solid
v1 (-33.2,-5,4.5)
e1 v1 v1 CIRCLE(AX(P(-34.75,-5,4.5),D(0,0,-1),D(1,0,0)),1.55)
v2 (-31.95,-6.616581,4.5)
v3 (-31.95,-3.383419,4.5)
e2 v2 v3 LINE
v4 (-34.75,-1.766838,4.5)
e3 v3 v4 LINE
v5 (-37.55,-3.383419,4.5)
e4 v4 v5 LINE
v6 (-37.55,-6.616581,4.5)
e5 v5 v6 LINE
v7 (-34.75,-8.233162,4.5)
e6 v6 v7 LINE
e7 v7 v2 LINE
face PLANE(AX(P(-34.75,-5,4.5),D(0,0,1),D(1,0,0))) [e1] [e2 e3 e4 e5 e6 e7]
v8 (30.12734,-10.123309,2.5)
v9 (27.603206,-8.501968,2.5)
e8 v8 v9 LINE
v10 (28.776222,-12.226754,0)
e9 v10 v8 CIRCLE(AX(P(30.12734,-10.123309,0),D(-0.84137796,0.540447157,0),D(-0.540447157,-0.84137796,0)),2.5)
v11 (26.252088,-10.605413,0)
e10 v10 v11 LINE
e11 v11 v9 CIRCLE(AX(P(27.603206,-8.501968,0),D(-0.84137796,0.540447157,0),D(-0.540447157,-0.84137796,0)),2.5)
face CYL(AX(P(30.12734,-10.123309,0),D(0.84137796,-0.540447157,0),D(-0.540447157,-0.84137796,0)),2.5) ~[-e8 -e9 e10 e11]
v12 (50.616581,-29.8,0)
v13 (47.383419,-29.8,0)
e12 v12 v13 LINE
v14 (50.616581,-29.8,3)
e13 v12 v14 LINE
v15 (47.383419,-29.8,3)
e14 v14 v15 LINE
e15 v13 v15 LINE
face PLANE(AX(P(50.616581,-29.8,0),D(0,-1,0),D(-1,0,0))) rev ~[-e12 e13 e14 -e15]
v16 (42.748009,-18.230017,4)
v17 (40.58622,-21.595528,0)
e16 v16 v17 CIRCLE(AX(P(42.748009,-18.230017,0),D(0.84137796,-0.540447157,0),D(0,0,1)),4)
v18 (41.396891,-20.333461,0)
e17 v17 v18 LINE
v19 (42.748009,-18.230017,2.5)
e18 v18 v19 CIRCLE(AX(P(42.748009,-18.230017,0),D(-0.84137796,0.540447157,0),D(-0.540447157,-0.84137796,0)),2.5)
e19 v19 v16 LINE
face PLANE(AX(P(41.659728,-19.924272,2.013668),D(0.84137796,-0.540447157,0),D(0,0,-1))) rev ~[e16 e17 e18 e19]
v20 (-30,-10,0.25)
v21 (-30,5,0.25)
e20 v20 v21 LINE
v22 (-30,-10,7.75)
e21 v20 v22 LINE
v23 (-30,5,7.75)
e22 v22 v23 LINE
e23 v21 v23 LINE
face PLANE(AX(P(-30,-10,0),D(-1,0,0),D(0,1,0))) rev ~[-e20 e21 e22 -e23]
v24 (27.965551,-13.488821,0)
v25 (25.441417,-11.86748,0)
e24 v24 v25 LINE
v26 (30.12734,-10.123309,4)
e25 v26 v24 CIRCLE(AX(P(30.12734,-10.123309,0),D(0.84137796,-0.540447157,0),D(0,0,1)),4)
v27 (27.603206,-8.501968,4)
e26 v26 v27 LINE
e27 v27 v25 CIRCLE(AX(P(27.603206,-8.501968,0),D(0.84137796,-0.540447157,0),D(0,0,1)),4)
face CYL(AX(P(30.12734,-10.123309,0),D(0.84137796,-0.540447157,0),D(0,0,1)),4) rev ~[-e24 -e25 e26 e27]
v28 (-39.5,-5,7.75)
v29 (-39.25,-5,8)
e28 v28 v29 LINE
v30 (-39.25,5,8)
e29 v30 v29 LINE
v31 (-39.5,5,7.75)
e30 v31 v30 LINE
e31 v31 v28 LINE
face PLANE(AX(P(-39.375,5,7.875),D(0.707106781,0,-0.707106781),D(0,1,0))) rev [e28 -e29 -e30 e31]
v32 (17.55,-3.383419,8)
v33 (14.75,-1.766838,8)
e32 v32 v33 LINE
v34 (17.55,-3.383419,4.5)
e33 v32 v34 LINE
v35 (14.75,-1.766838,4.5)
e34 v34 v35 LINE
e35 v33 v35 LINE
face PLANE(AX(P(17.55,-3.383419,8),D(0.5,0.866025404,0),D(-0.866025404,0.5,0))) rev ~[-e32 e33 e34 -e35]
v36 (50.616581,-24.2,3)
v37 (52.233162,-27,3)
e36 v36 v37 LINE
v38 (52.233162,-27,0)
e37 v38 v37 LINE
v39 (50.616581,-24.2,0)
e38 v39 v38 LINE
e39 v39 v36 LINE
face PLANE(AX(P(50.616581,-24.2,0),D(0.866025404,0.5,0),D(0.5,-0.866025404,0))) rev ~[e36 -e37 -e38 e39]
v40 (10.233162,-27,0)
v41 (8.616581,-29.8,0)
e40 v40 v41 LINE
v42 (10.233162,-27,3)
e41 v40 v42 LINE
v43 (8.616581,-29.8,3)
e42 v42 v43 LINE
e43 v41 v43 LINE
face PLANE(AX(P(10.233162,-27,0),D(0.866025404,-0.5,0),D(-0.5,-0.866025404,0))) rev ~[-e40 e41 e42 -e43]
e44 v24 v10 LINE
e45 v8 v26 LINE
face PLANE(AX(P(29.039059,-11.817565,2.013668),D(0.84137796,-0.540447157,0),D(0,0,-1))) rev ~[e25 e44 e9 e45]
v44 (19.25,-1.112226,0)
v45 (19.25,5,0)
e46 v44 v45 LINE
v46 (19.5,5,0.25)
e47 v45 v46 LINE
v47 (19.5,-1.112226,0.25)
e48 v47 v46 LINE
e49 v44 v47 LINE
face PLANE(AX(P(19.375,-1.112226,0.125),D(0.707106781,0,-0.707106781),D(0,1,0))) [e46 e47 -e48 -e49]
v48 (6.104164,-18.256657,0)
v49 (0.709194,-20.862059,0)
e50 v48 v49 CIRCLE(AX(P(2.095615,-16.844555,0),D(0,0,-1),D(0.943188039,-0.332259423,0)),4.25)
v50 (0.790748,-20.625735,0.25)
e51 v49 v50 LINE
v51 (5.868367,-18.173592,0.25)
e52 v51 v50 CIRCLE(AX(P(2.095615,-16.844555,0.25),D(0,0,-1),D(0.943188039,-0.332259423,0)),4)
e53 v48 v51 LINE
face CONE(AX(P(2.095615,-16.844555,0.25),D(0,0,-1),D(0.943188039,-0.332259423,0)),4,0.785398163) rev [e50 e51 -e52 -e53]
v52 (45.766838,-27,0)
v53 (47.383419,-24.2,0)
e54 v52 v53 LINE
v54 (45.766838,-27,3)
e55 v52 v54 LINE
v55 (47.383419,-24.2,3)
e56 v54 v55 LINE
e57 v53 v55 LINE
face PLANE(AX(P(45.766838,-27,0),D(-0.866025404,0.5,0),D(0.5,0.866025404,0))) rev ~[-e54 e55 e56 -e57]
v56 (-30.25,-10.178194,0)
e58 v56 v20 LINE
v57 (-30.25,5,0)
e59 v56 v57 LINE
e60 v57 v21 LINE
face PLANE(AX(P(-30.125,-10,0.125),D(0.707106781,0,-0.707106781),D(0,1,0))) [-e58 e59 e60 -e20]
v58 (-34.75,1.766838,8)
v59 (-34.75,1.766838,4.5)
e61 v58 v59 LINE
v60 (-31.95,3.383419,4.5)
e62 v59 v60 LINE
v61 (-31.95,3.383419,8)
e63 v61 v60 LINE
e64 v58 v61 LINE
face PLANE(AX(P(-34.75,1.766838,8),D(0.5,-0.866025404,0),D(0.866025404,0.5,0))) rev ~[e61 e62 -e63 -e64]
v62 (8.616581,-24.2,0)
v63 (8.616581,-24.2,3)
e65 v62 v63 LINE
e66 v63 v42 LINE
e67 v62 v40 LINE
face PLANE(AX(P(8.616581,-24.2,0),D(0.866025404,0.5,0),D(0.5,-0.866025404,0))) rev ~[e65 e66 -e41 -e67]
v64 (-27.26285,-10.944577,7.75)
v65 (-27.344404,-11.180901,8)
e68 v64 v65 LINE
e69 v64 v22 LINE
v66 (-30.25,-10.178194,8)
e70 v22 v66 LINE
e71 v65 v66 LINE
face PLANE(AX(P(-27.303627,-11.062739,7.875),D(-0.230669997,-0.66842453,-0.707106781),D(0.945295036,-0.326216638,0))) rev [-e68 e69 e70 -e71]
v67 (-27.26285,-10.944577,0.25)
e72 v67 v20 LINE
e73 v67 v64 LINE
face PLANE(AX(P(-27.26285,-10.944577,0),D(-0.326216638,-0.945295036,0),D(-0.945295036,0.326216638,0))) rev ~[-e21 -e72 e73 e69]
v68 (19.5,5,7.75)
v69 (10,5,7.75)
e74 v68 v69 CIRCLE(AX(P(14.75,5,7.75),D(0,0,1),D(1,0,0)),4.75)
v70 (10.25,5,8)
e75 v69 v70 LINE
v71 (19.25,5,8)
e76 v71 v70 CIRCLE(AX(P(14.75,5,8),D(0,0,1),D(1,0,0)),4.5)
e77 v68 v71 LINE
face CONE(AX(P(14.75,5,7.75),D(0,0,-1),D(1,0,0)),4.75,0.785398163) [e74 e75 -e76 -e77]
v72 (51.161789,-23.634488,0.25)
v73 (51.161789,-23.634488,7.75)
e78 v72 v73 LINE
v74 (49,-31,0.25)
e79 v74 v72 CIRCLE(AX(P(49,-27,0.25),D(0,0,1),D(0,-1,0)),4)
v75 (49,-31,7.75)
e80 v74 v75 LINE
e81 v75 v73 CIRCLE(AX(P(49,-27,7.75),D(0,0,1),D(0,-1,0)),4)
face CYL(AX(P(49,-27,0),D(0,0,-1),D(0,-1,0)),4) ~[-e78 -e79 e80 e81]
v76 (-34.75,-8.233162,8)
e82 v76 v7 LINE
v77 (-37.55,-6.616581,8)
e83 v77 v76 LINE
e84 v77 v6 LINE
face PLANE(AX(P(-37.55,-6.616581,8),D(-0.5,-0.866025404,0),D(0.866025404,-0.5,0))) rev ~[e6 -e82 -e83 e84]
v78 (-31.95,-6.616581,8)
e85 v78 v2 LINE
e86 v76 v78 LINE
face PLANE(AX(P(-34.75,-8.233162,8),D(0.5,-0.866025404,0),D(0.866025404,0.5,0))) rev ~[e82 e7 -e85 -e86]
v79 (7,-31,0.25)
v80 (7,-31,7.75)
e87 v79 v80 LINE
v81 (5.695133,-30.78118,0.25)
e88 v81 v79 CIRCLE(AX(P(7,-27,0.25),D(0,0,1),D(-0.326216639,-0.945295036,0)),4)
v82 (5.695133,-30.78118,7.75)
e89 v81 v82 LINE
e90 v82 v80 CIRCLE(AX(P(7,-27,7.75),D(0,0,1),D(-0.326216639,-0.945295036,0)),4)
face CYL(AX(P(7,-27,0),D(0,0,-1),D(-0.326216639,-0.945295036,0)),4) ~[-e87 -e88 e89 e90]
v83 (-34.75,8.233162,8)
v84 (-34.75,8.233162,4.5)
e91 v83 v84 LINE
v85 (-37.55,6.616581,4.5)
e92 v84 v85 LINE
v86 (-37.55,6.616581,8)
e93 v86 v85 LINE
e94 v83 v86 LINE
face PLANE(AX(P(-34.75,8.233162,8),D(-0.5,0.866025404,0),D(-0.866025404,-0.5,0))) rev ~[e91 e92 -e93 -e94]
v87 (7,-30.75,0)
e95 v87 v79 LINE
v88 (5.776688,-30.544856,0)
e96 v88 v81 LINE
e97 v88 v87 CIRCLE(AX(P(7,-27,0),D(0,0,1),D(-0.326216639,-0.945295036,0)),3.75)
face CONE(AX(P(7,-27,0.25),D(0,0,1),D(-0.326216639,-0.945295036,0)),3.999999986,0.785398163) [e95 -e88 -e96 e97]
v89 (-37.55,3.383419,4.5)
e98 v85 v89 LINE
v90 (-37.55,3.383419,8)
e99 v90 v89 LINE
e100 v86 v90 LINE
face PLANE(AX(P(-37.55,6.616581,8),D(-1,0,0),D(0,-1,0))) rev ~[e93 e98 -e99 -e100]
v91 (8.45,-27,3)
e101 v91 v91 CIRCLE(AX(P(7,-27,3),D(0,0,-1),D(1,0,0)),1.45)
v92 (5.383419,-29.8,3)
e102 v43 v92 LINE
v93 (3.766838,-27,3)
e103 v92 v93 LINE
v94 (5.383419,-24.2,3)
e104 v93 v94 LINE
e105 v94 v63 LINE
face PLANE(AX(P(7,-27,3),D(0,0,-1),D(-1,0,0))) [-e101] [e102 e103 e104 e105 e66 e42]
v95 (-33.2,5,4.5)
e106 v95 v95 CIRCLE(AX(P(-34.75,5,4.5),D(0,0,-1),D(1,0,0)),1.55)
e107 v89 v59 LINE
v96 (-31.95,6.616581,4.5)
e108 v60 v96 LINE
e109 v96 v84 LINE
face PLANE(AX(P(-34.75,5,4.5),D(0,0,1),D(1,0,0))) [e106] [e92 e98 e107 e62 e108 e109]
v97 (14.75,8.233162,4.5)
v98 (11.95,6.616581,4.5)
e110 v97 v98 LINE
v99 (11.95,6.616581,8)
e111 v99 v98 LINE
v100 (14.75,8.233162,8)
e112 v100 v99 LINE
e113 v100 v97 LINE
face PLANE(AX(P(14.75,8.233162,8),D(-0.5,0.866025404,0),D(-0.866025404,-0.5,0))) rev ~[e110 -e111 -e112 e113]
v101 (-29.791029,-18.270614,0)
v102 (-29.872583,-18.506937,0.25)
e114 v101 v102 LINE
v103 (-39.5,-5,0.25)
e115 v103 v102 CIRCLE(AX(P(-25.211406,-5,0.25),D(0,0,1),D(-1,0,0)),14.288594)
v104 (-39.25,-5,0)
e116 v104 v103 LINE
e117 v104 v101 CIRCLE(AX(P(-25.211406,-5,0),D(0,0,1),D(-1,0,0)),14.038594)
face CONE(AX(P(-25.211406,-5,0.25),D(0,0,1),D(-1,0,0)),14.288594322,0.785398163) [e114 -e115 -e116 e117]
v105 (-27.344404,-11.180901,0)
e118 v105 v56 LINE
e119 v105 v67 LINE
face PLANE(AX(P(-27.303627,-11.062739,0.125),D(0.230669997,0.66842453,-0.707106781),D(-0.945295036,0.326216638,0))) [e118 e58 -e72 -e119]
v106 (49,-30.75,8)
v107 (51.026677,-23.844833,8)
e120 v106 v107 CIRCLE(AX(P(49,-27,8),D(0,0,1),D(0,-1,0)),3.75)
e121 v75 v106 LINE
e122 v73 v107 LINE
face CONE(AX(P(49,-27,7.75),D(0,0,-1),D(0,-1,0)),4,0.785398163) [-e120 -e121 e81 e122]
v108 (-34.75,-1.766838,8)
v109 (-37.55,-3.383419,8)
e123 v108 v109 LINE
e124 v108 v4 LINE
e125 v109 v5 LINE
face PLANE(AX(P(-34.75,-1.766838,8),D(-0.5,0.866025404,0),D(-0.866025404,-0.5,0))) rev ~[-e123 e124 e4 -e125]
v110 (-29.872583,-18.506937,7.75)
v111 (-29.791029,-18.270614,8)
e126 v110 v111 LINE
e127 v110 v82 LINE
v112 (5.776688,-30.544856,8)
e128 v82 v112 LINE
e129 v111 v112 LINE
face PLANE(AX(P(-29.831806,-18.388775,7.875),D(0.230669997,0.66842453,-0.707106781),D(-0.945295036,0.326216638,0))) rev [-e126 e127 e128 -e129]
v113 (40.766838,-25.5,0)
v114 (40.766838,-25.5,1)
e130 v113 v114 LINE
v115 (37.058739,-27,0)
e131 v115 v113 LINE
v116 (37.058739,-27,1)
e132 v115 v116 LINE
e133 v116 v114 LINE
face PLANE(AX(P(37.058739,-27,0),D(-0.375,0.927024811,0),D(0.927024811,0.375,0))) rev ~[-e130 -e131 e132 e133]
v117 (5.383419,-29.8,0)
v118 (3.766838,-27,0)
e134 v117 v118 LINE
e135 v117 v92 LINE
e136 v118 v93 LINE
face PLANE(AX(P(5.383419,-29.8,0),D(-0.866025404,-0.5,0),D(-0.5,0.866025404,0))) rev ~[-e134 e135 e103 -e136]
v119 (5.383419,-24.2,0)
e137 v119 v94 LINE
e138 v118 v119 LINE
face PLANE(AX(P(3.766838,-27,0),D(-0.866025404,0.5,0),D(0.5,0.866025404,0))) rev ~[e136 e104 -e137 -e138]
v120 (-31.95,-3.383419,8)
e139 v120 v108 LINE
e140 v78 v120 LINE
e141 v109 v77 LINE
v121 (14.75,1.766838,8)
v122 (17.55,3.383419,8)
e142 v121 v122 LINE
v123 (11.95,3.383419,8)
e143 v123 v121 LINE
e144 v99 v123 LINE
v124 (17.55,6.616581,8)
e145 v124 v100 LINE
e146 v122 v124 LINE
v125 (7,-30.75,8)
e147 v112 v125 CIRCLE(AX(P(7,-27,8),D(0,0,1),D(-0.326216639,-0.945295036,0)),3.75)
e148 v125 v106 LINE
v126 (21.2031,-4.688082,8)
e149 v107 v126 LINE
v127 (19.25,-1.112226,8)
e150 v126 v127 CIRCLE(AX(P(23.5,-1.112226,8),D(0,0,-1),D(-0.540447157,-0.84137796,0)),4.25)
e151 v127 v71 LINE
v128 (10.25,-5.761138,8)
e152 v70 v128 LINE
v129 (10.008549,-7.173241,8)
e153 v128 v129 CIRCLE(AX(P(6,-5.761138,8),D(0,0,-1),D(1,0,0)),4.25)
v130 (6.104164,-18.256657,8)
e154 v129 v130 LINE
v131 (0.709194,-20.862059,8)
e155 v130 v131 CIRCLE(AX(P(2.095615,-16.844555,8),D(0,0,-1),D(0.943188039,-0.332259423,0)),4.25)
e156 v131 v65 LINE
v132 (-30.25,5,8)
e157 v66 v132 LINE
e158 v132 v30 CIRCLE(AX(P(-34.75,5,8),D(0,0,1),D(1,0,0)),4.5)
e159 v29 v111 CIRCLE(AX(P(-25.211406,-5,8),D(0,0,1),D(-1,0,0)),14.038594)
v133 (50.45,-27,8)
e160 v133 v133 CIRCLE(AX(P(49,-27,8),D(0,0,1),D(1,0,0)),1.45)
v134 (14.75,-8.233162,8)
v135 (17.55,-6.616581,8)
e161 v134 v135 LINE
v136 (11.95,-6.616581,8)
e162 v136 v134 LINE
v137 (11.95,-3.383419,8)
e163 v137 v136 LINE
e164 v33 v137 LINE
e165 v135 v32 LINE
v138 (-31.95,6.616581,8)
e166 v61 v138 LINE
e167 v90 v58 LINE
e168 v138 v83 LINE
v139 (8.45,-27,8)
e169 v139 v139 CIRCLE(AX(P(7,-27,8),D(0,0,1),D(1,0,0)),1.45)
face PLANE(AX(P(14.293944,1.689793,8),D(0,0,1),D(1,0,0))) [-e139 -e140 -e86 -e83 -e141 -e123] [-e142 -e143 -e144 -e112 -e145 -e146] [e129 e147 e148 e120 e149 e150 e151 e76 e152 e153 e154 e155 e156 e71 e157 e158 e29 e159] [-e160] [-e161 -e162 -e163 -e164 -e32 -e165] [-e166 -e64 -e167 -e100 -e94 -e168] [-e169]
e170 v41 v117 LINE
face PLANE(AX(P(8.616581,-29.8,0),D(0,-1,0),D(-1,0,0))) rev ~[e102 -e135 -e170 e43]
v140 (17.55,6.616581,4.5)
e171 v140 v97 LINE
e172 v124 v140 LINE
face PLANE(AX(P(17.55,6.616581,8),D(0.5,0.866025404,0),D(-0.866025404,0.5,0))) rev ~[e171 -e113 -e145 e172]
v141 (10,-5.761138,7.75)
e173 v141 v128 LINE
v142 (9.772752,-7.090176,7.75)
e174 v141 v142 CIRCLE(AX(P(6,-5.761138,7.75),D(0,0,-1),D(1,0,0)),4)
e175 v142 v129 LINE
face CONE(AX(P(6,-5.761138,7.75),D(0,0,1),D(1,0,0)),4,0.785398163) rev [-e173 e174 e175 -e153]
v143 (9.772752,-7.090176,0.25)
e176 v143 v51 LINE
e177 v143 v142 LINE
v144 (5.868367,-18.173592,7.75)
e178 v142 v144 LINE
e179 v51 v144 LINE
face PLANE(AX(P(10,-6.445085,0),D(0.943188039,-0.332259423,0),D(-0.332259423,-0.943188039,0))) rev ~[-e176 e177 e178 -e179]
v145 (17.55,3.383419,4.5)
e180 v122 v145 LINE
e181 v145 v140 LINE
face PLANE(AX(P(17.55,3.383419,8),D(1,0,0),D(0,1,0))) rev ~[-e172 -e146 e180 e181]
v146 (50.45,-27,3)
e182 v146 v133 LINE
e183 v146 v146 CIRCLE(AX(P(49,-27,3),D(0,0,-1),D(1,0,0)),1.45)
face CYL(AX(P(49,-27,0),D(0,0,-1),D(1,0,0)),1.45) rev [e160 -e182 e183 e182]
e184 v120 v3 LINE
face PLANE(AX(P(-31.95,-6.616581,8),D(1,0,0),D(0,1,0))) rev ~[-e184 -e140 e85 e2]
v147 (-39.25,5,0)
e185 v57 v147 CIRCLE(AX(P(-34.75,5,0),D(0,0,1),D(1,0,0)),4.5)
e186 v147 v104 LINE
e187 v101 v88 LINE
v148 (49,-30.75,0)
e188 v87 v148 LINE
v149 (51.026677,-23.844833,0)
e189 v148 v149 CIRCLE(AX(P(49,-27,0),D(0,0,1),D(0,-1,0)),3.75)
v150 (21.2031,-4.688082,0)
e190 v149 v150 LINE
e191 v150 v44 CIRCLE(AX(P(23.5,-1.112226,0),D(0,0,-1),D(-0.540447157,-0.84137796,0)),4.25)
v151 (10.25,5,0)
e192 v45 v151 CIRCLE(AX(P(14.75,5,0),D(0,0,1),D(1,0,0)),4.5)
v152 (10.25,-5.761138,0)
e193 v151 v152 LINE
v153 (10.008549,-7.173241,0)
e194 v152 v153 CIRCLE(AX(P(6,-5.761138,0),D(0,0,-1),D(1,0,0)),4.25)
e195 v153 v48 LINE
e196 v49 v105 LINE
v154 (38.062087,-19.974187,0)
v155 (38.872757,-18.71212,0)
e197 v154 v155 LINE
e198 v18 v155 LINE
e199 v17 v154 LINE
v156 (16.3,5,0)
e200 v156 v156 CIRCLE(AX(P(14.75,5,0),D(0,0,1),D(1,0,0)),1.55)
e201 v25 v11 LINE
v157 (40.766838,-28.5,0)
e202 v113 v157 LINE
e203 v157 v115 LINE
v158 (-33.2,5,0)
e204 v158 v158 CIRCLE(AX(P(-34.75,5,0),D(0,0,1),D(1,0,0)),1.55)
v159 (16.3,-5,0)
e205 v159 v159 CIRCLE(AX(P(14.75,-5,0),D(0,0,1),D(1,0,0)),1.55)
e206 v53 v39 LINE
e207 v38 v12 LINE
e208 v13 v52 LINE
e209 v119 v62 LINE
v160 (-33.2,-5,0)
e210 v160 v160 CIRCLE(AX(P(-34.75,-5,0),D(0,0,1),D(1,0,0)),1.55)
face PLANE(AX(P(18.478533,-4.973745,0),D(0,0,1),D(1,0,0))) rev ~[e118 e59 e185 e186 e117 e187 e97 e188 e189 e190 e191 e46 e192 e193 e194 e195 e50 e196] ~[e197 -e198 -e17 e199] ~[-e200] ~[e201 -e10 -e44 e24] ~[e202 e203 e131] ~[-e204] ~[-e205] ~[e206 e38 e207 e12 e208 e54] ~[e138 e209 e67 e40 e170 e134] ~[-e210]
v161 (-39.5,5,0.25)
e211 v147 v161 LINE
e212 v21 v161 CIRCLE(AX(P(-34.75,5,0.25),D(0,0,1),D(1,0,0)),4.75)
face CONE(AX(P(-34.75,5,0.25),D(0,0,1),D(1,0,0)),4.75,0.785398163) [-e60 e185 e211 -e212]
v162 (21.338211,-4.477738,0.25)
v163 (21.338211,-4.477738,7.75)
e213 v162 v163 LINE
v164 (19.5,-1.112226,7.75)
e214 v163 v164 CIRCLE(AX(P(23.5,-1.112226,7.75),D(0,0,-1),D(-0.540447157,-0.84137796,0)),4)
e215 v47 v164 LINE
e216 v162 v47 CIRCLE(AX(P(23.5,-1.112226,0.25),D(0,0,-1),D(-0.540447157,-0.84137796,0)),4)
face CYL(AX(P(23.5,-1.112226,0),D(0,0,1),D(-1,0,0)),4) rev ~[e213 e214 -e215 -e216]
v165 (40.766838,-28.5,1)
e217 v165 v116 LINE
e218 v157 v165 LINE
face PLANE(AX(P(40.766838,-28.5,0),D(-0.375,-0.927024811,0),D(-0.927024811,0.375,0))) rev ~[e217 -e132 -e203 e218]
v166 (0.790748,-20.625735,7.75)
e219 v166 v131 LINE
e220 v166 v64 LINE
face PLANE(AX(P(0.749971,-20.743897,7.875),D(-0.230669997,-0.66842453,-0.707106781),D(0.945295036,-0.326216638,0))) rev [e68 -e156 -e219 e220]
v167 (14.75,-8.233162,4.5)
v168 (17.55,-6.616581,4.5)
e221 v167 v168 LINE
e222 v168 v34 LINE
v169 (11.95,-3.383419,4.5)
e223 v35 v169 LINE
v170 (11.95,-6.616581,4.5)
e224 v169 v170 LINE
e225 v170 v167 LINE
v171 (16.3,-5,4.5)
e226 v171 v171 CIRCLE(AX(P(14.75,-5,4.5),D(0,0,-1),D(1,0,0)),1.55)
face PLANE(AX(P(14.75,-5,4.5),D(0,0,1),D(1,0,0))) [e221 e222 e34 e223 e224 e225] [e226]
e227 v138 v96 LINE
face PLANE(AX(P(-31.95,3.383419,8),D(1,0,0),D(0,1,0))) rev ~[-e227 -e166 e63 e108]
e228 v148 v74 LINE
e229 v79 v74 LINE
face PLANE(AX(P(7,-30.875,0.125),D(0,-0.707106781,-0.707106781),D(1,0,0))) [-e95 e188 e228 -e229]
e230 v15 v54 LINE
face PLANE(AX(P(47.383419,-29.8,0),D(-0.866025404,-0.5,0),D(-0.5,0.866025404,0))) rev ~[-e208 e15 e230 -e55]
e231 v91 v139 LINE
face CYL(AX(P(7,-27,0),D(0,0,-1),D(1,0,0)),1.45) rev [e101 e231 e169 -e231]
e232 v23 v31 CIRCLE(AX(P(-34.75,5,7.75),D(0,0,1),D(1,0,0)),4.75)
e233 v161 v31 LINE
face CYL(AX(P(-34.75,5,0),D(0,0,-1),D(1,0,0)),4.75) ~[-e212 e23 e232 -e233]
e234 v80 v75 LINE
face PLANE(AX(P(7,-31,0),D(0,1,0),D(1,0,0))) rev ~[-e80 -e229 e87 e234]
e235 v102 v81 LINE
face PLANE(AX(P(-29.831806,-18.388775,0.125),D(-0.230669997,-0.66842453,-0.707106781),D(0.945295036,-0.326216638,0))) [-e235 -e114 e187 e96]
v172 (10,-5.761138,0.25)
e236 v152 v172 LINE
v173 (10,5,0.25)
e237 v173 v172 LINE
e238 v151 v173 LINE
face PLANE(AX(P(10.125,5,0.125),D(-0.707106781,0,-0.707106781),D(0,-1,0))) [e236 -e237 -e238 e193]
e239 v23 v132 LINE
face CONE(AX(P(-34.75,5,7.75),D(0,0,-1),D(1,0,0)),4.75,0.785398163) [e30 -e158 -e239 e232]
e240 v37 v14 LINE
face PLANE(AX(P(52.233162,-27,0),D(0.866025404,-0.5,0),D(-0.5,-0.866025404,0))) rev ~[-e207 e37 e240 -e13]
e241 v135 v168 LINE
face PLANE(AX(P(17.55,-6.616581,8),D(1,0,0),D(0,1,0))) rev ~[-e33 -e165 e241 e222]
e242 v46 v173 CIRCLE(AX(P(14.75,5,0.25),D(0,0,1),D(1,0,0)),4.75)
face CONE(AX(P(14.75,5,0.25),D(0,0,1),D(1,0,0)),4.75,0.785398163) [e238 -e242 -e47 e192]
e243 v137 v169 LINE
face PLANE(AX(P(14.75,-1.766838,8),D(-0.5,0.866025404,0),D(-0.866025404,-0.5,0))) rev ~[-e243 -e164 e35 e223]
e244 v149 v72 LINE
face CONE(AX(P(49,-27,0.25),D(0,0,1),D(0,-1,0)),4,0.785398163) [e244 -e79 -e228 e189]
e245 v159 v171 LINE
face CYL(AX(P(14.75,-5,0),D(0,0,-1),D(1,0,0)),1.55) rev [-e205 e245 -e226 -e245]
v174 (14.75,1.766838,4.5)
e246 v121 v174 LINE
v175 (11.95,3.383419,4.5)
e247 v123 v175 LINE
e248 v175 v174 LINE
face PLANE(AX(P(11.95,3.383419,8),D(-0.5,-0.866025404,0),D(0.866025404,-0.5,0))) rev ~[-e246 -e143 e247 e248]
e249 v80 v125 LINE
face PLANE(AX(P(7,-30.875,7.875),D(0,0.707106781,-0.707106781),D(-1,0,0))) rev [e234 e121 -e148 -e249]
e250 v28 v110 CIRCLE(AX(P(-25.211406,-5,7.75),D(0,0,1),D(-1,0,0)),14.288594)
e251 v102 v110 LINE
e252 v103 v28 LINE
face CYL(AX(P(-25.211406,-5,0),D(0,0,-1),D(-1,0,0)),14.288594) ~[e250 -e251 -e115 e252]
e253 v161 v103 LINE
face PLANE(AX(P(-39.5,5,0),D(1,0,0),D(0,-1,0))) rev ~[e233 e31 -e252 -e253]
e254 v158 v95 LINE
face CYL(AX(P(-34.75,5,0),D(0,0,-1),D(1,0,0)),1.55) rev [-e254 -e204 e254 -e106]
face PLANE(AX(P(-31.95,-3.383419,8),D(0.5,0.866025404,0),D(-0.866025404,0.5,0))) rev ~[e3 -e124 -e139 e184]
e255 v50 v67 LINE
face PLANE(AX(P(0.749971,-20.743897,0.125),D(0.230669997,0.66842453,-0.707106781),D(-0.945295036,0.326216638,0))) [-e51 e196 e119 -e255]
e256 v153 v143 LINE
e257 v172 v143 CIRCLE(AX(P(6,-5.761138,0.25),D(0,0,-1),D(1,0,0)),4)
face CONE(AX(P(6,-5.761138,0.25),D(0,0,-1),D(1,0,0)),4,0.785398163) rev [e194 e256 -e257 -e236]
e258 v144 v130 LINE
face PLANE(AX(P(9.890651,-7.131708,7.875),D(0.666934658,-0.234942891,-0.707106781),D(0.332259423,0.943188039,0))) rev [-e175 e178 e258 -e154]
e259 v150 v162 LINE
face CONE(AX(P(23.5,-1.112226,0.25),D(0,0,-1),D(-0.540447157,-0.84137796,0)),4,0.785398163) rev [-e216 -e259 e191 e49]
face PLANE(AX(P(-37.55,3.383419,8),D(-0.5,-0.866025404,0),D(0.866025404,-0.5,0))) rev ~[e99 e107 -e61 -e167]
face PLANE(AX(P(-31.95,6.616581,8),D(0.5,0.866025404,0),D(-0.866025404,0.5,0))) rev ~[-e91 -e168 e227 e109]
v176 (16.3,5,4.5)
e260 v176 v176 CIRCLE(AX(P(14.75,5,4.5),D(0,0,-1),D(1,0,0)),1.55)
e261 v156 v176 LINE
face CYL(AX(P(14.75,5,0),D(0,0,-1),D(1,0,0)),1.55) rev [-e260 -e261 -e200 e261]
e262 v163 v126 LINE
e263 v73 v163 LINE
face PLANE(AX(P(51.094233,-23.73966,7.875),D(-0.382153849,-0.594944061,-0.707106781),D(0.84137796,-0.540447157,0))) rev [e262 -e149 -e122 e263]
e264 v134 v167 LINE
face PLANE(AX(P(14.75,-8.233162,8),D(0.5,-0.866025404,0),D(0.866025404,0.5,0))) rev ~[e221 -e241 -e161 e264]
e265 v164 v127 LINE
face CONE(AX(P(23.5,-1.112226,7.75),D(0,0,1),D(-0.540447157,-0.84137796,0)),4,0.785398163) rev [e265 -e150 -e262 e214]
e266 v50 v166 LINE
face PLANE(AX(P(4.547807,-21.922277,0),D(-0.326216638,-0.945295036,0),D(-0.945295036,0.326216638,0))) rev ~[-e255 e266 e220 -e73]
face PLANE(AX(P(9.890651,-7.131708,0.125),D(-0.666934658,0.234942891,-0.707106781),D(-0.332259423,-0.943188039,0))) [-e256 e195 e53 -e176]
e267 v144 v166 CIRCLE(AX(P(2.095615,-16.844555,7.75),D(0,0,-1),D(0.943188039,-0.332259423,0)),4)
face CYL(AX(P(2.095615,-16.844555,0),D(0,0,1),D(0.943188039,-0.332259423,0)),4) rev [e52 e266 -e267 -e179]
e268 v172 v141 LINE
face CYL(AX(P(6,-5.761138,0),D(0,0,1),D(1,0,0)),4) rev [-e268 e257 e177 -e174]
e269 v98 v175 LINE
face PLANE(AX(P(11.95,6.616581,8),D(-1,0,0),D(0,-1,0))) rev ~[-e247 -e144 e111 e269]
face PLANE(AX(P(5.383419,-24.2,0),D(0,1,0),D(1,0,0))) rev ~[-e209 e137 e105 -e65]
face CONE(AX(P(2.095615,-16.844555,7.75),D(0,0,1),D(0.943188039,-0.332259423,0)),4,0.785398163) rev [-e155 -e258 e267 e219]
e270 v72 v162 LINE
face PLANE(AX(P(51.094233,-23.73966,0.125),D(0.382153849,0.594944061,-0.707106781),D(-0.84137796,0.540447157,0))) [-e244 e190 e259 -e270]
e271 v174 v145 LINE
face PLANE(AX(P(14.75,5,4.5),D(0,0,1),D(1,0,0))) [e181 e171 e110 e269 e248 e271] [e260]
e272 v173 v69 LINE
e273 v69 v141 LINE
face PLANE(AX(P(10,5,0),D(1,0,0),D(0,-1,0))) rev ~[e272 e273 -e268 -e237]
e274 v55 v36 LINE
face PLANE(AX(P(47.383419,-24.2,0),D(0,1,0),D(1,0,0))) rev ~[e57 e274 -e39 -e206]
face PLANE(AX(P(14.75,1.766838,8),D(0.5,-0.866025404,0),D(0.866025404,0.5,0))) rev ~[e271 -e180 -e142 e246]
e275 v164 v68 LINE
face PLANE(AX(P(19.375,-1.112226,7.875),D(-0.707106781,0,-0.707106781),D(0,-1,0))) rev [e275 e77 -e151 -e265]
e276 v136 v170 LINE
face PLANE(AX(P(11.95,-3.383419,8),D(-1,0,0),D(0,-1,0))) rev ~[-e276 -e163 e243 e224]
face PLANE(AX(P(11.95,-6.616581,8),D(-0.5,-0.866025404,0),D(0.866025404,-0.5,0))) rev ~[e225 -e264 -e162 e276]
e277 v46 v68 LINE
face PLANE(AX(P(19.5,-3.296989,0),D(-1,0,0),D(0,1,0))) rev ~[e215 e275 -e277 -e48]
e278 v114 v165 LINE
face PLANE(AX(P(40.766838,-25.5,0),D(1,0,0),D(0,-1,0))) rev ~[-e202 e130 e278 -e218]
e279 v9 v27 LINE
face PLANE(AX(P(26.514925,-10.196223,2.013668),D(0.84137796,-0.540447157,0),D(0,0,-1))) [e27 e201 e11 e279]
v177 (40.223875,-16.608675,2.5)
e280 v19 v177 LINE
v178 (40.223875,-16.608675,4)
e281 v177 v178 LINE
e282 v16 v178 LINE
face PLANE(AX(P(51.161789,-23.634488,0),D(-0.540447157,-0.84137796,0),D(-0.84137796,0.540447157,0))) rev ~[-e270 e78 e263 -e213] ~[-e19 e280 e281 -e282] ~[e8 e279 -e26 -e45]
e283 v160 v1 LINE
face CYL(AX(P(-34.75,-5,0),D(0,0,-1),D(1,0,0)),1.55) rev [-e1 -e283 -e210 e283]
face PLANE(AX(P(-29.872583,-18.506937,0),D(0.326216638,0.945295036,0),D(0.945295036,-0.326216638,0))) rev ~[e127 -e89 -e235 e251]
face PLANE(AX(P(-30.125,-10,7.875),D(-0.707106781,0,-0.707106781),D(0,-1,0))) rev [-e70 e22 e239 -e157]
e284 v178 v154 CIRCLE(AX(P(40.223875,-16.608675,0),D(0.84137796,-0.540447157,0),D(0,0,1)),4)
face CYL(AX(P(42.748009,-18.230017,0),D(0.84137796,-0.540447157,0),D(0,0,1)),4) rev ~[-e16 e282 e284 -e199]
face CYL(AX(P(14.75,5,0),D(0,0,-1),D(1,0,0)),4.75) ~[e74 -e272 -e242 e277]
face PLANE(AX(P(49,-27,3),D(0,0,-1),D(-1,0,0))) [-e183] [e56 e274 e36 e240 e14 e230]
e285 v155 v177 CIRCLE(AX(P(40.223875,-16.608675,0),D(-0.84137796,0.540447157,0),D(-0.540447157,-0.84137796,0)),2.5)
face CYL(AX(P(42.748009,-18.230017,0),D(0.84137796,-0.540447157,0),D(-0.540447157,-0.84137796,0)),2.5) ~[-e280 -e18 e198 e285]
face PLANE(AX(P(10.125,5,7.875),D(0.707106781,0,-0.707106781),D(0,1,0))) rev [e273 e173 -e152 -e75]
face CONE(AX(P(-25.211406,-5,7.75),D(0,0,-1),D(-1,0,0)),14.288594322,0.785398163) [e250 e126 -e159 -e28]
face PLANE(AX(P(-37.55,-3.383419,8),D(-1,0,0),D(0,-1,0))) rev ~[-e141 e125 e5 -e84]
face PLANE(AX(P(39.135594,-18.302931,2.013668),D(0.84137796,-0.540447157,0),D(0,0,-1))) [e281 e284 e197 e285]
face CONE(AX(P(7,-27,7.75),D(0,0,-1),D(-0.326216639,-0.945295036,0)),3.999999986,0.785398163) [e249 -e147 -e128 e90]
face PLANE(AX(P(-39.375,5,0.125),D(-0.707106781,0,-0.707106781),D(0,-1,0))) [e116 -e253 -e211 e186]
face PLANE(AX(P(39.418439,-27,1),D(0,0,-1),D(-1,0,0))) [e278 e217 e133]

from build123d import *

# Parameters (mm, degrees)
SZKIC1_R                    = 1.55
SZKIC1_R_2                  = 1.45
DODANIE_WYCI_GNI_CIE1_DEPTH = 8
WYTNIJ_WYCI_GNI_CIE1_DEPTH  = 3
ZAOKR_GLENIE1_R             = 4
WYTNIJ_WYCI_GNI_CIE2_DEPTH  = 3.5
SFAZOWANIE1_SIZE            = 0.25
WYTNIJ_WYCI_GNI_CIE3_DEPTH  = 1
WYTNIJ_WYCI_GNI_CIE4_DEPTH  = 3
SZYK_LINIOWY1_COUNT         = 2
SZYK_LINIOWY1_PITCH         = 15


with BuildPart() as part:
    # Szkic1 → Dodanie-wyciągnięcie1 (new body)
    # profile 1 of 17: a face of its own
    with BuildSketch(Plane.XY):
        with BuildLine():
            Line((-30, -5), (-30, 5))
            ThreePointArc((-30, 5), (-34.75, 9.75), (-39.5, 5))
            Line((-39.5, 5), (-39.5, -5))
            ThreePointArc((-39.5, -5), (-34.75, -9.75), (-30, -5))
        make_face()
        with Locations((-34.75, -5)):
            Circle(SZKIC1_R, mode=Mode.SUBTRACT)
        with Locations((-34.75, 5)):
            Circle(SZKIC1_R, mode=Mode.SUBTRACT)
    # profile 2 of 17: a face of its own
    with BuildSketch(Plane.XY):
        with BuildLine():
            Line((-30, -10), (-30, -5))
            ThreePointArc((-30, -5), (-34.75, -9.75), (-39.5, -5))
            ThreePointArc((-39.5, -5), (-36.846817098, -13.293438899), (-29.872582883, -18.506937282))
            ThreePointArc((-29.872582883, -18.506937282), (-32.348896474, -13.420890585), (-27.262849777, -10.944576994))
            Line((-27.262849777, -10.944576994), (-30, -10))
        make_face()
    # profile 3 of 17: a face of its own
    with BuildSketch(Plane.XY):
        with BuildLine():
            Line((4.547807332, -21.922277315), (-27.262849777, -10.944576994))
            ThreePointArc((-27.262849777, -10.944576994), (-32.348896474, -13.420890585), (-29.872582883, -18.506937282))
            Line((-29.872582883, -18.506937282), (5.695133447, -30.781180144))
            ThreePointArc((5.695133447, -30.781180144), (3.398037408, -28.739501506), (3.227247846, -25.670962309))
            Line((3.227247846, -25.670962309), (4.547807332, -21.922277315))
        make_face()
    # profile 4 of 17: a face of its own
    with BuildSketch(Plane.XY):
        with BuildLine():
            Line((7.670780796, -23), (4.547807332, -21.922277315))
            Line((4.547807332, -21.922277315), (3.227247846, -25.670962309))
            ThreePointArc((3.227247846, -25.670962309), (4.688739604, -23.735329208), (7, -23))
            Line((7, -23), (7.670780796, -23))
        make_face()
    # profile 5 of 17: a face of its own
    with BuildSketch(Plane.XY):
        with BuildLine():
            Line((10, -6.445085227), (4.547807332, -21.922277315))
            Line((4.547807332, -21.922277315), (7.670780796, -23))
            Line((7.670780796, -23), (12.650026795, -23))
            Line((12.650026795, -23), (16.842670109, -11.098302851))
            Line((16.842670109, -11.098302851), (14.743601006, -9.74999569))
            ThreePointArc((14.743601006, -9.74999569), (11.798045524, -8.721352546), (10.126086359, -6.087162658))
            Line((10.126086359, -6.087162658), (10, -6.445085227))
        make_face()
    # profile 6 of 17: a face of its own
    with BuildSketch(Plane.XY):
        with BuildLine():
            ThreePointArc((3.227247846, -25.670962309), (3.398037408, -28.739501506), (5.695133447, -30.781180144))
            ThreePointArc((5.695133447, -30.781180144), (6.338456568, -30.944915752), (7, -31))
            ThreePointArc((7, -31), (9.311260396, -30.264670792), (10.772752154, -28.329037691))
            ThreePointArc((10.772752154, -28.329037691), (10.601962592, -25.260498494), (8.304866553, -23.218819856))
            Line((8.304866553, -23.218819856), (7.670780796, -23))
            Line((7.670780796, -23), (7, -23))
            ThreePointArc((7, -23), (4.688739604, -23.735329208), (3.227247846, -25.670962309))
        make_face()
        with Locations((7, -27)):
            Circle(SZKIC1_R_2, mode=Mode.SUBTRACT)
    # profile 7 of 17: a face of its own
    with BuildSketch(Plane.XY):
        with BuildLine():
            Line((10, -5), (10, -6.445085227))
            Line((10, -6.445085227), (10.126086359, -6.087162658))
            ThreePointArc((10.126086359, -6.087162658), (10.03162688, -5.547224911), (10, -5))
        make_face()
    # profile 8 of 17: a face of its own
    with BuildSketch(Plane.XY):
        with BuildLine():
            Line((12.650026795, -23), (7.670780796, -23))
            Line((7.670780796, -23), (8.304866553, -23.218819856))
            ThreePointArc((8.304866553, -23.218819856), (10.601962592, -25.260498494), (10.772752154, -28.329037691))
            Line((10.772752154, -28.329037691), (12.650026795, -23))
        make_face()
    # profile 9 of 17: a face of its own
    with BuildSketch(Plane.XY):
        with BuildLine():
            ThreePointArc((10.772752154, -28.329037691), (9.311260396, -30.264670792), (7, -31))
            Line((7, -31), (49, -31))
            ThreePointArc((49, -31), (47.873511508, -30.838101572), (46.838211374, -30.365511839))
            Line((46.838211374, -30.365511839), (35.371448625, -23))
            Line((35.371448625, -23), (12.650026795, -23))
            Line((12.650026795, -23), (10.772752154, -28.329037691))
        make_face()
    # profile 10 of 17: a face of its own
    with BuildSketch(Plane.XY):
        with BuildLine():
            ThreePointArc((10, -5), (10.03162688, -5.547224911), (10.126086359, -6.087162658))
            Line((10.126086359, -6.087162658), (10.977247846, -3.670962309))
            ThreePointArc((10.977247846, -3.670962309), (13.45169048, -1.216563415), (16.911788626, -1.634488161))
            Line((16.911788626, -1.634488161), (19.5, -3.296988898))
            Line((19.5, -3.296988898), (19.5, 5))
            ThreePointArc((19.5, 5), (14.75, 9.75), (10, 5))
            Line((10, 5), (10, -5))
        make_face()
        with Locations((14.75, 5)):
            Circle(SZKIC1_R, mode=Mode.SUBTRACT)
    # profile 11 of 17: a face of its own
    with BuildSketch(Plane.XY):
        with BuildLine():
            Line((10.977247846, -3.670962309), (10.126086359, -6.087162658))
            ThreePointArc((10.126086359, -6.087162658), (11.798045524, -8.721352546), (14.743601006, -9.74999569))
            Line((14.743601006, -9.74999569), (12.588211374, -8.365511839))
            ThreePointArc((12.588211374, -8.365511839), (10.966563415, -6.29830952), (10.977247846, -3.670962309))
        make_face()
    # profile 12 of 17: a face of its own
    with BuildSketch(Plane.XY):
        Polygon((16.842670109, -11.098302851), (12.650026795, -23), (35.371448625, -23), align=None)
    # profile 13 of 17: a face of its own
    with BuildSketch(Plane.XY):
        with BuildLine():
            ThreePointArc((46.838211374, -30.365511839), (47.873511508, -30.838101572), (49, -31))
            ThreePointArc((49, -31), (52.838101572, -28.126488492), (51.161788626, -23.634488161))
            ThreePointArc((51.161788626, -23.634488161), (50.126488492, -23.161898428), (49, -23))
            Line((49, -23), (35.371448625, -23))
            Line((35.371448625, -23), (46.838211374, -30.365511839))
        make_face()
        with Locations((49, -27)):
            Circle(SZKIC1_R_2, mode=Mode.SUBTRACT)
    # profile 14 of 17: a face of its own
    with BuildSketch(Plane.XY):
        with BuildLine():
            ThreePointArc((16.911788626, -1.634488161), (13.45169048, -1.216563415), (10.977247846, -3.670962309))
            ThreePointArc((10.977247846, -3.670962309), (10.966563415, -6.29830952), (12.588211374, -8.365511839))
            Line((12.588211374, -8.365511839), (14.743601006, -9.74999569))
            ThreePointArc((14.743601006, -9.74999569), (16.291742556, -9.492830944), (17.671590668, -8.745238039))
            Line((17.671590668, -8.745238039), (18.522752154, -6.329037691))
            ThreePointArc((18.522752154, -6.329037691), (18.533436585, -3.70169048), (16.911788626, -1.634488161))
        make_face()
        with Locations((14.75, -5)):
            Circle(SZKIC1_R, mode=Mode.SUBTRACT)
    # profile 15 of 17: a face of its own
    with BuildSketch(Plane.XY):
        with BuildLine():
            ThreePointArc((17.671590668, -8.745238039), (16.291742556, -9.492830944), (14.743601006, -9.74999569))
            Line((14.743601006, -9.74999569), (16.842670109, -11.098302851))
            Line((16.842670109, -11.098302851), (17.671590668, -8.745238039))
        make_face()
    # profile 16 of 17: a face of its own
    with BuildSketch(Plane.XY):
        with BuildLine():
            Line((16.842670109, -11.098302851), (35.371448625, -23))
            Line((35.371448625, -23), (49, -23))
            ThreePointArc((49, -23), (50.126488492, -23.161898428), (51.161788626, -23.634488161))
            Line((51.161788626, -23.634488161), (19.5, -3.296988898))
            Line((19.5, -3.296988898), (19.5, -5))
            ThreePointArc((19.5, -5), (19.018492455, -7.083859919), (17.671590668, -8.745238039))
            Line((17.671590668, -8.745238039), (16.842670109, -11.098302851))
        make_face()
    # profile 17 of 17: a face of its own
    with BuildSketch(Plane.XY):
        with BuildLine():
            Line((19.5, -3.296988898), (16.911788626, -1.634488161))
            ThreePointArc((16.911788626, -1.634488161), (18.533436585, -3.70169048), (18.522752154, -6.329037691))
            Line((18.522752154, -6.329037691), (17.671590668, -8.745238039))
            ThreePointArc((17.671590668, -8.745238039), (19.018492455, -7.083859919), (19.5, -5))
            Line((19.5, -5), (19.5, -3.296988898))
        make_face()
    extrude(amount=DODANIE_WYCI_GNI_CIE1_DEPTH)

    # Szkic2 → Wytnij-wyciągnięcie1 (cut)
    with BuildSketch(Plane(origin=(0, 0, 0), x_dir=(-1, 0, 0), z_dir=(0, 0, -1))):
        Polygon((-45.766838493, -27), (-47.383419246, -24.2), (-50.616580754, -24.2), (-52.233161507, -27), (-50.616580754, -29.8), (-47.383419246, -29.8), align=None)
        Polygon((-10.233161507, -27), (-8.616580754, -29.8), (-5.383419246, -29.8), (-3.766838493, -27), (-5.383419246, -24.2), (-8.616580754, -24.2), align=None)
    extrude(amount=-WYTNIJ_WYCI_GNI_CIE1_DEPTH, mode=Mode.SUBTRACT)

    # Zaokrąglenie1
    zaokr_glenie1_edges = [part.edges().sort_by_distance(p)[0] for p in [
        (4.547807332, -21.922277315, 4),
        (10, -6.445085227, 4),
        (19.5, -3.296988898, 4),
    ]]
    fillet(zaokr_glenie1_edges, radius=ZAOKR_GLENIE1_R)

    # Szkic3 → Wytnij-wyciągnięcie2 (cut)
    with BuildSketch(Plane.XY.offset(8)):
        Polygon((-34.75, 1.766838493), (-31.95, 3.383419246), (-31.95, 6.616580754), (-34.75, 8.233161507), (-37.55, 6.616580754), (-37.55, 3.383419246), align=None)
        Polygon((-34.75, -8.233161507), (-31.95, -6.616580754), (-31.95, -3.383419246), (-34.75, -1.766838493), (-37.55, -3.383419246), (-37.55, -6.616580754), align=None)
        Polygon((14.75, 1.766838493), (17.55, 3.383419246), (17.55, 6.616580754), (14.75, 8.233161507), (11.95, 6.616580754), (11.95, 3.383419246), align=None)
        Polygon((14.75, -8.233161507), (17.55, -6.616580754), (17.55, -3.383419246), (14.75, -1.766838493), (11.95, -3.383419246), (11.95, -6.616580754), align=None)
    extrude(amount=-WYTNIJ_WYCI_GNI_CIE2_DEPTH, mode=Mode.SUBTRACT)

    # Sfazowanie1
    sfazowanie1_edges = [part.edges().sort_by_distance(p)[0] for p in [
        (36.25, -14.056112985, 8),
        (7.820559487, -12.631884103, 0),
        (7.820559487, -12.631884103, 8),
        (-14.604625944, -15.312867387, 0),
        (-14.604625944, -15.312867387, 8),
        (19.9895047, -3.029625968, 0),
        (19.9895047, -3.029625968, 8),
        (9.942778755, -6.435301151, 0),
        (9.942778755, -6.435301151, 8),
        (3.835116171, -20.446517222, 0),
        (3.835116171, -20.446517222, 8),
        (19.5, 1.943887015, 8),
        (14.75, 9.75, 8),
        (10, -0.380569097, 8),
        (52.838101572, -28.126488492, 0),
        (28, -31, 0),
        (6.338456568, -30.944915752, 0),
        (-12.088724718, -24.644058713, 0),
        (-36.846817098, -13.293438899, 0),
        (-39.5, 0, 0),
        (-34.75, 9.75, 0),
        (-30, -2.5, 0),
        (10, -0.380569097, 0),
        (14.75, 9.75, 0),
        (19.5, 1.943887015, 0),
        (36.25, -14.056112985, 0),
        (-30, -2.5, 8),
        (-34.75, 9.75, 8),
        (-39.5, 0, 8),
        (-36.846817098, -13.293438899, 8),
        (-12.088724718, -24.644058713, 8),
        (6.338456568, -30.944915752, 8),
        (28, -31, 8),
        (52.838101572, -28.126488492, 8),
    ]]
    chamfer(sfazowanie1_edges, length=SFAZOWANIE1_SIZE)

    # Szkic4 → Wytnij-wyciągnięcie3 (cut)
    with BuildSketch(Plane(origin=(0, 0, 0), x_dir=(-1, 0, 0), z_dir=(0, 0, -1))):
        Polygon((-40.766838493, -25.5), (-40.766838493, -28.5), (-37.058739249, -27), align=None)
    extrude(amount=-WYTNIJ_WYCI_GNI_CIE3_DEPTH, mode=Mode.SUBTRACT)

    # Szkic5 → Wytnij-wyciągnięcie4 (cut)
    with BuildSketch(Plane(origin=(42.74800903, -18.230016596, 0.25), x_dir=(0, 0, 1), z_dir=(-0.841377959640588, 0.5404471565574577, 0))):
        with BuildLine():
            Line((2.25, 0), (3.75, 0))
            ThreePointArc((3.75, 0), (2.578427125, -2.828427125), (-0.25, -4))
            Line((-0.25, -4), (-0.25, -2.5))
            ThreePointArc((-0.25, -2.5), (1.517766953, -1.767766953), (2.25, 0))
        make_face()
    wytnij_wyci_gni_cie4 = extrude(amount=WYTNIJ_WYCI_GNI_CIE4_DEPTH, mode=Mode.SUBTRACT)

    # Szyk liniowy1: Wytnij-wyciągnięcie4 ×2
    with Locations(*[Vector(-0.8413779596405879, 0.5404471565574578, 0) * (i * SZYK_LINIOWY1_PITCH) for i in range(1, SZYK_LINIOWY1_COUNT)]):
        add(wytnij_wyci_gni_cie4, mode=Mode.SUBTRACT)


solid = part.part
